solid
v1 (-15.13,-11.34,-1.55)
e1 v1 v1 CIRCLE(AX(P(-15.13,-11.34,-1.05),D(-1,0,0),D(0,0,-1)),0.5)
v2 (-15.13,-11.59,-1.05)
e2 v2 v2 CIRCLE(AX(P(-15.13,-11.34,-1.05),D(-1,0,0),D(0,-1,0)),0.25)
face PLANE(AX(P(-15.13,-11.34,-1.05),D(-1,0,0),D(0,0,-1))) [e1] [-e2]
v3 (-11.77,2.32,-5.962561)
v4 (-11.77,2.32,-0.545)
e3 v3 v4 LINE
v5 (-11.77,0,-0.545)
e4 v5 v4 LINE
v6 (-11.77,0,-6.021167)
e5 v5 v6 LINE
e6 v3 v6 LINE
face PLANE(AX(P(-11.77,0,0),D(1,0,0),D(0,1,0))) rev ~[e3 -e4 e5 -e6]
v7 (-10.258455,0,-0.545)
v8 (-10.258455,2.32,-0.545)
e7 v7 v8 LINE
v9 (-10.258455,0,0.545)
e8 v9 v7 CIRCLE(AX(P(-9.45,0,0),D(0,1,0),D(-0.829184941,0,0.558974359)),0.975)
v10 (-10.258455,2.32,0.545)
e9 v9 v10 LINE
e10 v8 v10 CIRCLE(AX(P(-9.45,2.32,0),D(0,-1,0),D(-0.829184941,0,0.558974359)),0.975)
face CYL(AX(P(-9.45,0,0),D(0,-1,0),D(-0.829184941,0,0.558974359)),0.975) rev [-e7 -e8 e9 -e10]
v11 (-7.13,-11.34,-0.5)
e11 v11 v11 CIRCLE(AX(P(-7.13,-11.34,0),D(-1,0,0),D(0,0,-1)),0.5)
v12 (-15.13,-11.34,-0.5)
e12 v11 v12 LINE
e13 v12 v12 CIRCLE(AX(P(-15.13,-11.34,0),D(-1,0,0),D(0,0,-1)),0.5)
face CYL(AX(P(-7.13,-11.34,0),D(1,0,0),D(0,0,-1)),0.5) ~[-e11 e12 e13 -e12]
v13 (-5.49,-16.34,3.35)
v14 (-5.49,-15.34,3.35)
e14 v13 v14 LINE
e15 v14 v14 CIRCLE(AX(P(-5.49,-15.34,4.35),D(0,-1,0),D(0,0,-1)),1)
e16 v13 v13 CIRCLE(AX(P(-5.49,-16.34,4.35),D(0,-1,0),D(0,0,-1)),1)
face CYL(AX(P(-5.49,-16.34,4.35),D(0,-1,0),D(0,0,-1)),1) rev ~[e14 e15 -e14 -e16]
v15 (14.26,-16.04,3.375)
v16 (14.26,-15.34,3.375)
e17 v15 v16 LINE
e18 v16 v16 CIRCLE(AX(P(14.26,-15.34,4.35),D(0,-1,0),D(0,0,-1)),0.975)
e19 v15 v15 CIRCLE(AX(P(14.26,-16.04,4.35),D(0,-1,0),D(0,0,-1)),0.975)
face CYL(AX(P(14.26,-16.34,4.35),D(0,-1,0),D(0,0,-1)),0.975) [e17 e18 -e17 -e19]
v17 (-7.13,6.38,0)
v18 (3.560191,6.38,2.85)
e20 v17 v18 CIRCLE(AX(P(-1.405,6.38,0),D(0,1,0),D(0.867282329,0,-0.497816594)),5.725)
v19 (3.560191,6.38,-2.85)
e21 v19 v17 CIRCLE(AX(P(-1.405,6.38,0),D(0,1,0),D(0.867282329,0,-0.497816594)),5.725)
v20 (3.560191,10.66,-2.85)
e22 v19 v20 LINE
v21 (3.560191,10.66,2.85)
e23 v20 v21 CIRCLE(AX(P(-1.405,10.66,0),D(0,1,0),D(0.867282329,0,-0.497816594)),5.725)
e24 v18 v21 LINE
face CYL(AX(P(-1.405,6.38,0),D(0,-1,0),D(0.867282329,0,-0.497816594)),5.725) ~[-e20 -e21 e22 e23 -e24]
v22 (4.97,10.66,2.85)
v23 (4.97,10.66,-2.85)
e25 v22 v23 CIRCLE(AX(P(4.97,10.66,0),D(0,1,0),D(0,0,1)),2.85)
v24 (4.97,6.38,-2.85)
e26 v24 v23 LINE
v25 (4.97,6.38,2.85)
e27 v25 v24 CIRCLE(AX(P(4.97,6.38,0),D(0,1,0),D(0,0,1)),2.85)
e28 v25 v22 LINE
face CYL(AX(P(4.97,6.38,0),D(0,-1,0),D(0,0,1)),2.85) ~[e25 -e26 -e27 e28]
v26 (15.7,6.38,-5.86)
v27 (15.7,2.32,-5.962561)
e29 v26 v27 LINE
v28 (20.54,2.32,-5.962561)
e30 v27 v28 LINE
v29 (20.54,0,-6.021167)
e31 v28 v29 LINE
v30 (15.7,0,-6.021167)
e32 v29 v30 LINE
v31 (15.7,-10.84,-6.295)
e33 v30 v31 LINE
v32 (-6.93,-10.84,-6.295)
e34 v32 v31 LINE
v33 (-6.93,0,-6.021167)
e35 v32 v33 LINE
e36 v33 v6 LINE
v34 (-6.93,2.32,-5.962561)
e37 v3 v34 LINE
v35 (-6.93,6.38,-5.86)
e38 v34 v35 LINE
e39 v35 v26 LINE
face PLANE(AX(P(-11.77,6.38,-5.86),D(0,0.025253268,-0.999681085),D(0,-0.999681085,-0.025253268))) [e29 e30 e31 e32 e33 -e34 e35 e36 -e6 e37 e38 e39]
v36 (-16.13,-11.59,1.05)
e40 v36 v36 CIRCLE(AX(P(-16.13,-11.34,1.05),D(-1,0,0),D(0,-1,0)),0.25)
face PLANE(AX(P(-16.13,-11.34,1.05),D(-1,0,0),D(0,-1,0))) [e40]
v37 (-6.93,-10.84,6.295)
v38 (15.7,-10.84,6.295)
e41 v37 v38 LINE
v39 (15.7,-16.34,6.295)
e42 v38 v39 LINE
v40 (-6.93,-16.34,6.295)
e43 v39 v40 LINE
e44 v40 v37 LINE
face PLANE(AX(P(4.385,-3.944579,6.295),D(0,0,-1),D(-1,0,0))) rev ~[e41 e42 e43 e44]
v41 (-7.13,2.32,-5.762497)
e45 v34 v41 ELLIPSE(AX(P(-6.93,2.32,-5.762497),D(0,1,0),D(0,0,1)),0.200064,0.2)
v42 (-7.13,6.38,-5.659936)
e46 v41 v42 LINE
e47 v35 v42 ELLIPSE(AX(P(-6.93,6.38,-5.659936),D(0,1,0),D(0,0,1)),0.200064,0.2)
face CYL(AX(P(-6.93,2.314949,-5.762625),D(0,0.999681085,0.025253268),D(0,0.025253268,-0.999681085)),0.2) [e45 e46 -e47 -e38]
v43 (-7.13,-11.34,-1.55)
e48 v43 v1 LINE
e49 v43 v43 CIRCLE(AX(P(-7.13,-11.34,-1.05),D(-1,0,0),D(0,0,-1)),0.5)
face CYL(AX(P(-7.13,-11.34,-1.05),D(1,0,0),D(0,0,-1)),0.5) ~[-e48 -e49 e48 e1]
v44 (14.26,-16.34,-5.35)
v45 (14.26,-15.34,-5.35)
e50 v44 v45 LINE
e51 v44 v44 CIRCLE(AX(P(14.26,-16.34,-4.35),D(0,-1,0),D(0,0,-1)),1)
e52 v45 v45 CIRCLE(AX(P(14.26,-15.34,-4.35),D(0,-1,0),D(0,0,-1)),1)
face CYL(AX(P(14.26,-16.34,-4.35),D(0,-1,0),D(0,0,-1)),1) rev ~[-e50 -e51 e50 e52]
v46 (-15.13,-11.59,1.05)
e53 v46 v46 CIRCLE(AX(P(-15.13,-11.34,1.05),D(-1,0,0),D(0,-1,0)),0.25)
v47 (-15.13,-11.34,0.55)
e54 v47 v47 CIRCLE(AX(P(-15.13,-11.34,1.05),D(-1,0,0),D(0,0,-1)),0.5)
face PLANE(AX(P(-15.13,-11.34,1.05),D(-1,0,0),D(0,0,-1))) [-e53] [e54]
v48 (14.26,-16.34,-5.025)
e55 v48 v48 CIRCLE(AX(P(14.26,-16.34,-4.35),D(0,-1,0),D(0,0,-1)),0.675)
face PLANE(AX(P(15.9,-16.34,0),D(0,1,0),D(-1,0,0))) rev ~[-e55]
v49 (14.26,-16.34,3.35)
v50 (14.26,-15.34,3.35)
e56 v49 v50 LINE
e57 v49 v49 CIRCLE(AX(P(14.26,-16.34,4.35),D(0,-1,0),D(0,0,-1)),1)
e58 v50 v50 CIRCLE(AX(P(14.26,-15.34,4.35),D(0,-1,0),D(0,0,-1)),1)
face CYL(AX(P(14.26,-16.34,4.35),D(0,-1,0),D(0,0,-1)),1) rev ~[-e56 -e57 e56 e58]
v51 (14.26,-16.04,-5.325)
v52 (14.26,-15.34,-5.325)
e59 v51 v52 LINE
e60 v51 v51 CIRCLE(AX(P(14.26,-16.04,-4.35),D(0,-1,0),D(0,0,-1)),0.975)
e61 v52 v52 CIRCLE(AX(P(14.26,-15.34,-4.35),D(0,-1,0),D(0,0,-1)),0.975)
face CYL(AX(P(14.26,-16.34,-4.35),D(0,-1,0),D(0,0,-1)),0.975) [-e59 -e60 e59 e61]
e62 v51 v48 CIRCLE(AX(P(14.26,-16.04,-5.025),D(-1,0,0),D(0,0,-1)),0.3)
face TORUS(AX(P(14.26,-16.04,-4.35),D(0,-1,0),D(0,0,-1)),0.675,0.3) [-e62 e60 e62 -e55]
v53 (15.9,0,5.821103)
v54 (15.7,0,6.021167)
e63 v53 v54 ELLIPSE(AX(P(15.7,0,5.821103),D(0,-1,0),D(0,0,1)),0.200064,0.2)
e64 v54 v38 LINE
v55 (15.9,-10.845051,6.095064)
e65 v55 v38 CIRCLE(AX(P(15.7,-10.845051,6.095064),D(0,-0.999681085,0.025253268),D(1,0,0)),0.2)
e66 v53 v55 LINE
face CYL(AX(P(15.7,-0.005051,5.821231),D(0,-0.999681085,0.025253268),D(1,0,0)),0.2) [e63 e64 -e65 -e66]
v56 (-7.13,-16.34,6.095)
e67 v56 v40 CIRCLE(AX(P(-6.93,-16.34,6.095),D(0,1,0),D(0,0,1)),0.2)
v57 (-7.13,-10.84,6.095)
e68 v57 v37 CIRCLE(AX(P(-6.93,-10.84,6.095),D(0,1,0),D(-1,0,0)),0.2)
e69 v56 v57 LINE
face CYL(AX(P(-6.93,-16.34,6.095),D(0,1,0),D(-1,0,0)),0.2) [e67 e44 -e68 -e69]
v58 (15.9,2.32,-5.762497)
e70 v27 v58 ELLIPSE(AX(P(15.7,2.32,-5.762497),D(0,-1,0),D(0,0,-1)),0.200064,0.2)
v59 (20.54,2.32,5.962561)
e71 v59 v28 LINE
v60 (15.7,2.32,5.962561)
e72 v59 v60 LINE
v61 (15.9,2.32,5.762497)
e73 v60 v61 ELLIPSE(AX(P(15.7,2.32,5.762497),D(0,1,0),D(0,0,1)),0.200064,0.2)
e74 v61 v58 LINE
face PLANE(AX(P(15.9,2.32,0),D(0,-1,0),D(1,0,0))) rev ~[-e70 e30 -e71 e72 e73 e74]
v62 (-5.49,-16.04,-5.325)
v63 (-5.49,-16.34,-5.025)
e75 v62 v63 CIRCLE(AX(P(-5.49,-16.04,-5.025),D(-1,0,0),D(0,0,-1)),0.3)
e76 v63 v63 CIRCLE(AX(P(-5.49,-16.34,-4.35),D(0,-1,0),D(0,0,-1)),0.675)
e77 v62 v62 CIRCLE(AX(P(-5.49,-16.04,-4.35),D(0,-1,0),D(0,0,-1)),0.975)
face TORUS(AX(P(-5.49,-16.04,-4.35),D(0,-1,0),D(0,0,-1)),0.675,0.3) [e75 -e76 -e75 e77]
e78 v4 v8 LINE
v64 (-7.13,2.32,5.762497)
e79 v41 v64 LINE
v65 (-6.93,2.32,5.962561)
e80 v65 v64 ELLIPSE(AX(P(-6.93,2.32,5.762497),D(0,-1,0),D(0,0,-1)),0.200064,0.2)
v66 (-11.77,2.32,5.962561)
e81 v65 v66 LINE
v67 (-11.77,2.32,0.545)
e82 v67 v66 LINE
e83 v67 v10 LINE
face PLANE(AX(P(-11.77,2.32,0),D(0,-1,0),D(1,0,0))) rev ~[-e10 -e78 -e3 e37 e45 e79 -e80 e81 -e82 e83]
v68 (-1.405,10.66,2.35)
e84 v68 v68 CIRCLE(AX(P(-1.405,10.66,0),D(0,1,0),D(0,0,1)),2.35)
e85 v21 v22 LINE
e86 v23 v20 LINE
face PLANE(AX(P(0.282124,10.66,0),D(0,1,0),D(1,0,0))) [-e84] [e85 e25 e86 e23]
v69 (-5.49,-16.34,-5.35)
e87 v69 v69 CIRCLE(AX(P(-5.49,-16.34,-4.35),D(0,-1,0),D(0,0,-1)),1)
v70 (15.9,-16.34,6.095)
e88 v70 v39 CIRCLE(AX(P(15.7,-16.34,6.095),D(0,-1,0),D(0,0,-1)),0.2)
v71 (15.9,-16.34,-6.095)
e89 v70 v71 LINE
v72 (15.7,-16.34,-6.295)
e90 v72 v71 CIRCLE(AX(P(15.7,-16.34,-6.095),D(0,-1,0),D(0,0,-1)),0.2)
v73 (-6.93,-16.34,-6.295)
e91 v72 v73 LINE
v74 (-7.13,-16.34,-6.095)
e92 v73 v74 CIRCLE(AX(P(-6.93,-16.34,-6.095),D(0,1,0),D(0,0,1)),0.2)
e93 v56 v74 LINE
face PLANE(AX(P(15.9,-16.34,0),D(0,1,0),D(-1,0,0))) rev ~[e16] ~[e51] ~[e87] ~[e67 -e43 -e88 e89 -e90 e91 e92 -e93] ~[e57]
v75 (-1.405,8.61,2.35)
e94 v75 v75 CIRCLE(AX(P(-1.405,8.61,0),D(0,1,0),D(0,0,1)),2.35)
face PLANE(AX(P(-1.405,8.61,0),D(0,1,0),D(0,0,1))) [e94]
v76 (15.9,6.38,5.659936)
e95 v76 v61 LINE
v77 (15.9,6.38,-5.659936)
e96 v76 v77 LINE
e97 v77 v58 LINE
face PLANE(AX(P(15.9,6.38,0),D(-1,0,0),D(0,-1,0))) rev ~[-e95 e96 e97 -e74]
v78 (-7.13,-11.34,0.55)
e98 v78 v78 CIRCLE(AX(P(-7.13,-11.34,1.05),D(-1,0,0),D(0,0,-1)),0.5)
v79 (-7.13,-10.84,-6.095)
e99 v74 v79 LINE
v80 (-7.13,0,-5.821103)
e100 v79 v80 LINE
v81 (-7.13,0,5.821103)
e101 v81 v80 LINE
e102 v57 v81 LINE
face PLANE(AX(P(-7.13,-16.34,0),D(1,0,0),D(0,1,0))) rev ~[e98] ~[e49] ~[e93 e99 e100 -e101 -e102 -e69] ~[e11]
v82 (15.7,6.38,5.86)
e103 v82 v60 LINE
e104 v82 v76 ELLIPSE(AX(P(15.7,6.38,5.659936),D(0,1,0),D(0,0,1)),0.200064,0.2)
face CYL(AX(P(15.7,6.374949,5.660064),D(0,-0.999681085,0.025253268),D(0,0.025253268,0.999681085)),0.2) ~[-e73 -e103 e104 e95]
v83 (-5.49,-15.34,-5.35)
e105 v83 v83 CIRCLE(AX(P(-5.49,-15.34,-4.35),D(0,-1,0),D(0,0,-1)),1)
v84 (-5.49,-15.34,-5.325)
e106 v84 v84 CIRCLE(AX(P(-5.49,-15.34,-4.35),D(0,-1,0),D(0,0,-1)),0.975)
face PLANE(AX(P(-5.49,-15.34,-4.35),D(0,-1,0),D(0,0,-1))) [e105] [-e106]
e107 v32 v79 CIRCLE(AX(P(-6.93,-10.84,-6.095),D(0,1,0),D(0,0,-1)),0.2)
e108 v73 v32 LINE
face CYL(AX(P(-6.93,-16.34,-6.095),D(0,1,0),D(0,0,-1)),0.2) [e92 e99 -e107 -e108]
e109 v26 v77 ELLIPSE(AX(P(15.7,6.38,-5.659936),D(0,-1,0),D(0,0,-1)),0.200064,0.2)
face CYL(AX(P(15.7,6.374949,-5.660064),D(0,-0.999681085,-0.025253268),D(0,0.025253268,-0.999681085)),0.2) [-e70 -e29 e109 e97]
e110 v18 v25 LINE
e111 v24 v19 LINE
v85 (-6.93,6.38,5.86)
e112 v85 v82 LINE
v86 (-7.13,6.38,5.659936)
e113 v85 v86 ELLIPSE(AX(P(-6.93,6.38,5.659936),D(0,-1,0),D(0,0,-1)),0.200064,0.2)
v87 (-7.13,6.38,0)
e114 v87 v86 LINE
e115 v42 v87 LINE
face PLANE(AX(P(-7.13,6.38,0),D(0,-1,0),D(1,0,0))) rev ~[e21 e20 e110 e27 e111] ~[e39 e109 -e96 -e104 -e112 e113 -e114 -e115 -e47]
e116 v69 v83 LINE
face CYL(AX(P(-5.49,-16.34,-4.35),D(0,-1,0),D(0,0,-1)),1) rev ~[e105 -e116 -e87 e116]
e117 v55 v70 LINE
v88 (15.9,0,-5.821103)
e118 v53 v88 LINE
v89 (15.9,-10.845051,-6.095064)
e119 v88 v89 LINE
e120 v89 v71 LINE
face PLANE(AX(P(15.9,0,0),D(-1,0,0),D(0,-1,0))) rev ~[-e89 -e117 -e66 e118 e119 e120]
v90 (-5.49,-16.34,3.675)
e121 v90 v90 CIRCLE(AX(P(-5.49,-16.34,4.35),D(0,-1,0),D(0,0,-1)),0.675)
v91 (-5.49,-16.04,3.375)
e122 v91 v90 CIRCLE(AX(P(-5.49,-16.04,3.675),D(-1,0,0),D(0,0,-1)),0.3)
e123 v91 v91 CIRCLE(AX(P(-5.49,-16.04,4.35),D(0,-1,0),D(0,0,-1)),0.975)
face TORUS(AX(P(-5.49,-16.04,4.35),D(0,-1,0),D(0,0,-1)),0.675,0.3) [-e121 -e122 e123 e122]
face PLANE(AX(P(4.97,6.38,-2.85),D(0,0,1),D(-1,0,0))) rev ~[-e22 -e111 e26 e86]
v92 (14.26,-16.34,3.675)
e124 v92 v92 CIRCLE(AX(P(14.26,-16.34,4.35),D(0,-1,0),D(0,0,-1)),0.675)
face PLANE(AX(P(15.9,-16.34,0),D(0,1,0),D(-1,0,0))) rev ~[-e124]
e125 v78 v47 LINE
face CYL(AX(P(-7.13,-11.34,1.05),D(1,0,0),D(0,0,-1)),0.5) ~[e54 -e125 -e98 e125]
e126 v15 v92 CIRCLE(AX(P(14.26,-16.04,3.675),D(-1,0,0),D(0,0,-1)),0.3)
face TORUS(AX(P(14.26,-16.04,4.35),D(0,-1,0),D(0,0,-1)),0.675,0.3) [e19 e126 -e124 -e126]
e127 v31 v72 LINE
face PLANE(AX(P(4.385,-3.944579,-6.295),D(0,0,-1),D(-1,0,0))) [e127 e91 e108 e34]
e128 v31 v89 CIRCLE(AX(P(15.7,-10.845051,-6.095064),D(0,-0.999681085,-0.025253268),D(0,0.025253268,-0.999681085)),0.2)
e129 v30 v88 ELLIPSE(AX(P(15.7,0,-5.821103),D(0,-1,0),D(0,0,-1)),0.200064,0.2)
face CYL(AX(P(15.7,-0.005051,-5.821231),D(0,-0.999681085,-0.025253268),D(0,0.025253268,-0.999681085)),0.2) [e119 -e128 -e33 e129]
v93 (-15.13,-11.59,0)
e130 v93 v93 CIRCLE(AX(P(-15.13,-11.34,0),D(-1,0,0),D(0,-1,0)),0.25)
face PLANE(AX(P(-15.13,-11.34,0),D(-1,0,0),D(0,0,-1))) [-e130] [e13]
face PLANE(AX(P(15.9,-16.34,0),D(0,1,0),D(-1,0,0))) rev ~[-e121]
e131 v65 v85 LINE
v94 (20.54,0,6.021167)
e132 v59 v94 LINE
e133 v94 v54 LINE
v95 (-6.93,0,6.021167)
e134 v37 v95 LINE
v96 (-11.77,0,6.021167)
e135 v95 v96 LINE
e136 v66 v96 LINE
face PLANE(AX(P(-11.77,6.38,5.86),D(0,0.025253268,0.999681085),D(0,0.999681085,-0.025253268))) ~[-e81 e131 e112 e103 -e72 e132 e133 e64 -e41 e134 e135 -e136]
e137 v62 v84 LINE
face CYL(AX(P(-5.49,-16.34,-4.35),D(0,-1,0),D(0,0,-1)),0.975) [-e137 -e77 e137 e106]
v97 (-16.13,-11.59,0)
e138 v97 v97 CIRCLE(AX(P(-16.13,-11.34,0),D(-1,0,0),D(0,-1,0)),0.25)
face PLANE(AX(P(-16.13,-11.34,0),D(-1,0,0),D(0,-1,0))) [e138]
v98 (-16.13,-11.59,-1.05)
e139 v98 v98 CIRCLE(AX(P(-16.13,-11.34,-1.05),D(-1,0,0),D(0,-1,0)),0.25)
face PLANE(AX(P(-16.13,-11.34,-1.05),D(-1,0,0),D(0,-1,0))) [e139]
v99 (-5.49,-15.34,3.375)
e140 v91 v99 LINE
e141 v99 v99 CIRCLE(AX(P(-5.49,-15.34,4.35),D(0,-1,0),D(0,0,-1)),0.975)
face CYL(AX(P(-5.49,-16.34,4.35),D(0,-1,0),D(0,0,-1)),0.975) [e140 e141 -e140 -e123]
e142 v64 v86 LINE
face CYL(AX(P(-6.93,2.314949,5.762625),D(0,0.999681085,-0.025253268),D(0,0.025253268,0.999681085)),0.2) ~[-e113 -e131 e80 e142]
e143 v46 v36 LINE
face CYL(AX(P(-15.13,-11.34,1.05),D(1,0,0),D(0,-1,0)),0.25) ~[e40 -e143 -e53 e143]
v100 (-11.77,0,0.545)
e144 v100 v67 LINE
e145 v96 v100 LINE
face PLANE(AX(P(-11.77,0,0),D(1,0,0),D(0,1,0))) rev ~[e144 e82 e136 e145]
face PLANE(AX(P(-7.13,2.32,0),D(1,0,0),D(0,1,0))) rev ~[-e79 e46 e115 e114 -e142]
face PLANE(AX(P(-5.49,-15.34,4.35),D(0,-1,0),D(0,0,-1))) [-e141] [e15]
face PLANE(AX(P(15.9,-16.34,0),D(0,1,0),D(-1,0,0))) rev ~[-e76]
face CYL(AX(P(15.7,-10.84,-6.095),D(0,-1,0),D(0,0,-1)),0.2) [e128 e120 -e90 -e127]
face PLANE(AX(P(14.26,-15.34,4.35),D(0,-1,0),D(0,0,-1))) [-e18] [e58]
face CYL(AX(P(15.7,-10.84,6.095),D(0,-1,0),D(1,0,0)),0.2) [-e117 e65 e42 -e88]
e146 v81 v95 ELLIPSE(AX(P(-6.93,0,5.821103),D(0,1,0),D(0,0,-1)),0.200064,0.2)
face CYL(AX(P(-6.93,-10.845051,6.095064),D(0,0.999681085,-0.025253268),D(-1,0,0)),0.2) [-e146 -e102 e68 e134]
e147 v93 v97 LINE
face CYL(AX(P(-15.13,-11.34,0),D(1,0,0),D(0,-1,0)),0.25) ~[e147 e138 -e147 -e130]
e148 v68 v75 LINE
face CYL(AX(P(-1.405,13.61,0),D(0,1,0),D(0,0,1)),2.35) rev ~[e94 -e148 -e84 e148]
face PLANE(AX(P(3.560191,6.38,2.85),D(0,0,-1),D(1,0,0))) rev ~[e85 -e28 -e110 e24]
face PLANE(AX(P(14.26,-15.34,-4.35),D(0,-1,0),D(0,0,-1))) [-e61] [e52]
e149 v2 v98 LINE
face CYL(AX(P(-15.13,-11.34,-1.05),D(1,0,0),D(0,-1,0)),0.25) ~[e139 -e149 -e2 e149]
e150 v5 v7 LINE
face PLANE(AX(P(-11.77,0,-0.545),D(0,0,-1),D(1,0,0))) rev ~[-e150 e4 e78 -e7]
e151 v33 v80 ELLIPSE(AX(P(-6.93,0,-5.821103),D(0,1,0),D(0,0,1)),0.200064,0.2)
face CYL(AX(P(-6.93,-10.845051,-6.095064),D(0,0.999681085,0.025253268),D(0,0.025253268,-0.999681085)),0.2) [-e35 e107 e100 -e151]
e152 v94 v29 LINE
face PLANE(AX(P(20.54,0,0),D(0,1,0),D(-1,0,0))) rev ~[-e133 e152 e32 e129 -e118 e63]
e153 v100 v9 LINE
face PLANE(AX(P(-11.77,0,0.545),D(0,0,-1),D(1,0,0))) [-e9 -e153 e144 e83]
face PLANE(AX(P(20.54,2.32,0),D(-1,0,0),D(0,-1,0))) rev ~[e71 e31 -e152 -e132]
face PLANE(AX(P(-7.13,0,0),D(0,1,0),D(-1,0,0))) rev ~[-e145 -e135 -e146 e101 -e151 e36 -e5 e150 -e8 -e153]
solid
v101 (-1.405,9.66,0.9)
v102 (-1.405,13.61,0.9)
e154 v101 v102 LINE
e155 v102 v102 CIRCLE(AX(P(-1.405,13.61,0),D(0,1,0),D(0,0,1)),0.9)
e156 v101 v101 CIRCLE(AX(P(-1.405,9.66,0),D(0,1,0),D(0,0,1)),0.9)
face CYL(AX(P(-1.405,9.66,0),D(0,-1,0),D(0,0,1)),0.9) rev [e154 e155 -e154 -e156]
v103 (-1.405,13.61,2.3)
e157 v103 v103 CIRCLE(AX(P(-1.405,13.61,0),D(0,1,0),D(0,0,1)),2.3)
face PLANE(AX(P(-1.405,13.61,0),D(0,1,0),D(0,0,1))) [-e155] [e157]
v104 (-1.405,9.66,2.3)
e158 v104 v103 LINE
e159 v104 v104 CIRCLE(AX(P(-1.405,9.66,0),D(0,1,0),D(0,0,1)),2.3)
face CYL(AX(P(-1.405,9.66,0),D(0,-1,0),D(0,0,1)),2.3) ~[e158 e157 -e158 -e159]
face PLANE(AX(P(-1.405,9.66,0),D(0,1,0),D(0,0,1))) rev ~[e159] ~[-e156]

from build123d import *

# Parameters (mm, degrees)
BOSS_EXTRUDE1_DEPTH      = 6.295
BOSS_EXTRUDE2_DEPTH      = 4.28
CUT_EXTRUDE4_DEPTH       = 37.749948639
SKETCH4_R                = 0.975
SKETCH4_W                = 1.511544683
SKETCH4_H                = 1.09
CUT_EXTRUDE1_DEPTH       = 27.991002668
SKETCH5_R                = 1
SKETCH5_R_2              = 0.975
CUT_EXTRUDE2_DEPTH       = 1
SKETCH6_R                = 0.5
BOSS_EXTRUDE4_DEPTH      = 8
SKETCH7_R                = 0.25
BOSS_EXTRUDE5_DEPTH      = 1
FILLET1_R                = 0.3
FILLET3_R                = 0.2
BOSS_EXTRUDE6_DEPTH      = 2.95
BOSS_EXTRUDE6_DEPTH_BACK = 1
SKETCH12_R               = 2.3
SKETCH12_R_2             = 0.9
SKETCH13_R               = 2.35
CUT_EXTRUDE5_DEPTH       = 5


with BuildPart() as part:
    # Sketch1 → Boss-Extrude1 (new, symmetric)
    with BuildSketch(Plane.XY):
        Polygon((-7.13, 6.38), (15.9, 6.38), (15.9, 2.32), (20.54, 2.32), (20.54, 0), (15.9, 0), (15.9, -16.34), (-7.13, -16.34), (-7.13, 0), (-11.77, 0), (-11.77, 2.32), (-7.13, 2.32), align=None)
    extrude(amount=BOSS_EXTRUDE1_DEPTH, both=True)

    # Sketch2 → Boss-Extrude2 (add)
    with BuildSketch(Plane(origin=(0, 6.38, 0), x_dir=(1, 0, 0), z_dir=(0, 1, 0))):
        with BuildLine():
            Line((3.560191336, -2.85), (4.97, -2.85))
            ThreePointArc((4.97, -2.85), (7.82, 0), (4.97, 2.85))
            Line((4.97, 2.85), (3.560191336, 2.85))
            ThreePointArc((3.560191336, 2.85), (-7.13, 0), (3.560191336, -2.85))
        make_face()
    extrude(amount=BOSS_EXTRUDE2_DEPTH)

    # Sketch11 → Cut-Extrude4 (cut, through all)
    with BuildSketch(Plane.ZY.offset(11.77)):
        Polygon((-5.86, 6.38), (-6.295, -10.84), (-6.295, 6.38), align=None)
    cut_extrude4 = extrude(amount=-CUT_EXTRUDE4_DEPTH, mode=Mode.SUBTRACT)

    # Mirror1: Cut-Extrude4 across plane
    add(cut_extrude4.mirror(Plane.XY), mode=Mode.SUBTRACT)

    # Sketch4 → Cut-Extrude1 (cut, through all)
    with BuildSketch(Plane(origin=(0, 0, 0), x_dir=(1, 0, 0), z_dir=(0, 1, 0))):
        with Locations((-9.45, 0)):
            Circle(SKETCH4_R)
        with Locations((-11.014227659, 0)):
            Rectangle(SKETCH4_W, SKETCH4_H)
    extrude(amount=CUT_EXTRUDE1_DEPTH, mode=Mode.SUBTRACT)

    # Sketch5 → Cut-Extrude2 (cut)
    # profile 1 of 4: a face of its own
    with BuildSketch(Plane.XZ.offset(16.34)):
        with Locations((-5.49, 4.35)):
            Circle(SKETCH5_R)
        with Locations((-5.49, 4.35)):
            Circle(SKETCH5_R_2, mode=Mode.SUBTRACT)
    # profile 2 of 4: a face of its own
    with BuildSketch(Plane.XZ.offset(16.34)):
        with Locations((-5.49, -4.35)):
            Circle(SKETCH5_R)
        with Locations((-5.49, -4.35)):
            Circle(SKETCH5_R_2, mode=Mode.SUBTRACT)
    # profile 3 of 4: a face of its own
    with BuildSketch(Plane.XZ.offset(16.34)):
        with Locations((14.26, -4.35)):
            Circle(SKETCH5_R)
        with Locations((14.26, -4.35)):
            Circle(SKETCH5_R_2, mode=Mode.SUBTRACT)
    # profile 4 of 4: a face of its own
    with BuildSketch(Plane.XZ.offset(16.34)):
        with Locations((14.26, 4.35)):
            Circle(SKETCH5_R)
        with Locations((14.26, 4.35)):
            Circle(SKETCH5_R_2, mode=Mode.SUBTRACT)
    extrude(amount=-CUT_EXTRUDE2_DEPTH, mode=Mode.SUBTRACT)

    # Sketch6 → Boss-Extrude4 (add)
    with BuildSketch(Plane.ZY.offset(7.13)):
        with Locations((0, -11.34)):
            Circle(SKETCH6_R)
        with Locations((1.05, -11.34)):
            Circle(SKETCH6_R)
        with Locations((-1.05, -11.34)):
            Circle(SKETCH6_R)
    extrude(amount=BOSS_EXTRUDE4_DEPTH)

    # Sketch7 → Boss-Extrude5 (add)
    with BuildSketch(Plane.ZY.offset(15.13)):
        with Locations((0, -11.34)):
            Circle(SKETCH7_R)
        with Locations((1.05, -11.34)):
            Circle(SKETCH7_R)
        with Locations((-1.05, -11.34)):
            Circle(SKETCH7_R)
    extrude(amount=BOSS_EXTRUDE5_DEPTH)

    # Fillet1
    fillet1_edges = [part.edges().sort_by_distance(p)[0] for p in [
        (13.285, -16.34, -4.35),
        (13.285, -16.34, 4.35),
        (-6.465, -16.34, -4.35),
        (-6.465, -16.34, 4.35),
    ]]
    fillet(fillet1_edges, radius=FILLET1_R)

    # Fillet3
    fillet3_edges = [part.edges().sort_by_distance(p)[0] for p in [
        (15.9, -13.59, -6.295),
        (15.9, -13.59, 6.295),
        (-7.13, -13.59, -6.295),
        (-7.13, -13.59, 6.295),
        (-7.13, -5.42, 6.158083624),
        (-7.13, -5.42, -6.158083624),
        (15.9, -5.42, 6.158083624),
        (15.9, -5.42, -6.158083624),
        (15.9, 4.35, -5.911280488),
        (15.9, 4.35, 5.911280488),
        (-7.13, 4.35, -5.911280488),
        (-7.13, 4.35, 5.911280488),
    ]]
    fillet(fillet3_edges, radius=FILLET3_R)

    # Sketch13 → Cut-Extrude5 (cut)
    with BuildSketch(Plane(origin=(0, 13.61, 0), x_dir=(1, 0, 0), z_dir=(0, 1, 0))):
        with Locations((-1.405, 0)):
            Circle(SKETCH13_R)
    extrude(amount=-CUT_EXTRUDE5_DEPTH, mode=Mode.SUBTRACT)


with BuildPart() as body_2:
    # Sketch12 → Boss-Extrude6 (new, two sides: drawn at the far end of the back side and taken through both)
    with BuildSketch(Plane(origin=(0, 10.66, 0), x_dir=(1, 0, 0), z_dir=(0, 1, 0)).offset(-BOSS_EXTRUDE6_DEPTH_BACK)):
        with Locations((-1.405, 0)):
            Circle(SKETCH12_R)
        with Locations((-1.405, 0)):
            Circle(SKETCH12_R_2, mode=Mode.SUBTRACT)
    extrude(amount=BOSS_EXTRUDE6_DEPTH + BOSS_EXTRUDE6_DEPTH_BACK)


solid = Compound([part.part, body_2.part])
